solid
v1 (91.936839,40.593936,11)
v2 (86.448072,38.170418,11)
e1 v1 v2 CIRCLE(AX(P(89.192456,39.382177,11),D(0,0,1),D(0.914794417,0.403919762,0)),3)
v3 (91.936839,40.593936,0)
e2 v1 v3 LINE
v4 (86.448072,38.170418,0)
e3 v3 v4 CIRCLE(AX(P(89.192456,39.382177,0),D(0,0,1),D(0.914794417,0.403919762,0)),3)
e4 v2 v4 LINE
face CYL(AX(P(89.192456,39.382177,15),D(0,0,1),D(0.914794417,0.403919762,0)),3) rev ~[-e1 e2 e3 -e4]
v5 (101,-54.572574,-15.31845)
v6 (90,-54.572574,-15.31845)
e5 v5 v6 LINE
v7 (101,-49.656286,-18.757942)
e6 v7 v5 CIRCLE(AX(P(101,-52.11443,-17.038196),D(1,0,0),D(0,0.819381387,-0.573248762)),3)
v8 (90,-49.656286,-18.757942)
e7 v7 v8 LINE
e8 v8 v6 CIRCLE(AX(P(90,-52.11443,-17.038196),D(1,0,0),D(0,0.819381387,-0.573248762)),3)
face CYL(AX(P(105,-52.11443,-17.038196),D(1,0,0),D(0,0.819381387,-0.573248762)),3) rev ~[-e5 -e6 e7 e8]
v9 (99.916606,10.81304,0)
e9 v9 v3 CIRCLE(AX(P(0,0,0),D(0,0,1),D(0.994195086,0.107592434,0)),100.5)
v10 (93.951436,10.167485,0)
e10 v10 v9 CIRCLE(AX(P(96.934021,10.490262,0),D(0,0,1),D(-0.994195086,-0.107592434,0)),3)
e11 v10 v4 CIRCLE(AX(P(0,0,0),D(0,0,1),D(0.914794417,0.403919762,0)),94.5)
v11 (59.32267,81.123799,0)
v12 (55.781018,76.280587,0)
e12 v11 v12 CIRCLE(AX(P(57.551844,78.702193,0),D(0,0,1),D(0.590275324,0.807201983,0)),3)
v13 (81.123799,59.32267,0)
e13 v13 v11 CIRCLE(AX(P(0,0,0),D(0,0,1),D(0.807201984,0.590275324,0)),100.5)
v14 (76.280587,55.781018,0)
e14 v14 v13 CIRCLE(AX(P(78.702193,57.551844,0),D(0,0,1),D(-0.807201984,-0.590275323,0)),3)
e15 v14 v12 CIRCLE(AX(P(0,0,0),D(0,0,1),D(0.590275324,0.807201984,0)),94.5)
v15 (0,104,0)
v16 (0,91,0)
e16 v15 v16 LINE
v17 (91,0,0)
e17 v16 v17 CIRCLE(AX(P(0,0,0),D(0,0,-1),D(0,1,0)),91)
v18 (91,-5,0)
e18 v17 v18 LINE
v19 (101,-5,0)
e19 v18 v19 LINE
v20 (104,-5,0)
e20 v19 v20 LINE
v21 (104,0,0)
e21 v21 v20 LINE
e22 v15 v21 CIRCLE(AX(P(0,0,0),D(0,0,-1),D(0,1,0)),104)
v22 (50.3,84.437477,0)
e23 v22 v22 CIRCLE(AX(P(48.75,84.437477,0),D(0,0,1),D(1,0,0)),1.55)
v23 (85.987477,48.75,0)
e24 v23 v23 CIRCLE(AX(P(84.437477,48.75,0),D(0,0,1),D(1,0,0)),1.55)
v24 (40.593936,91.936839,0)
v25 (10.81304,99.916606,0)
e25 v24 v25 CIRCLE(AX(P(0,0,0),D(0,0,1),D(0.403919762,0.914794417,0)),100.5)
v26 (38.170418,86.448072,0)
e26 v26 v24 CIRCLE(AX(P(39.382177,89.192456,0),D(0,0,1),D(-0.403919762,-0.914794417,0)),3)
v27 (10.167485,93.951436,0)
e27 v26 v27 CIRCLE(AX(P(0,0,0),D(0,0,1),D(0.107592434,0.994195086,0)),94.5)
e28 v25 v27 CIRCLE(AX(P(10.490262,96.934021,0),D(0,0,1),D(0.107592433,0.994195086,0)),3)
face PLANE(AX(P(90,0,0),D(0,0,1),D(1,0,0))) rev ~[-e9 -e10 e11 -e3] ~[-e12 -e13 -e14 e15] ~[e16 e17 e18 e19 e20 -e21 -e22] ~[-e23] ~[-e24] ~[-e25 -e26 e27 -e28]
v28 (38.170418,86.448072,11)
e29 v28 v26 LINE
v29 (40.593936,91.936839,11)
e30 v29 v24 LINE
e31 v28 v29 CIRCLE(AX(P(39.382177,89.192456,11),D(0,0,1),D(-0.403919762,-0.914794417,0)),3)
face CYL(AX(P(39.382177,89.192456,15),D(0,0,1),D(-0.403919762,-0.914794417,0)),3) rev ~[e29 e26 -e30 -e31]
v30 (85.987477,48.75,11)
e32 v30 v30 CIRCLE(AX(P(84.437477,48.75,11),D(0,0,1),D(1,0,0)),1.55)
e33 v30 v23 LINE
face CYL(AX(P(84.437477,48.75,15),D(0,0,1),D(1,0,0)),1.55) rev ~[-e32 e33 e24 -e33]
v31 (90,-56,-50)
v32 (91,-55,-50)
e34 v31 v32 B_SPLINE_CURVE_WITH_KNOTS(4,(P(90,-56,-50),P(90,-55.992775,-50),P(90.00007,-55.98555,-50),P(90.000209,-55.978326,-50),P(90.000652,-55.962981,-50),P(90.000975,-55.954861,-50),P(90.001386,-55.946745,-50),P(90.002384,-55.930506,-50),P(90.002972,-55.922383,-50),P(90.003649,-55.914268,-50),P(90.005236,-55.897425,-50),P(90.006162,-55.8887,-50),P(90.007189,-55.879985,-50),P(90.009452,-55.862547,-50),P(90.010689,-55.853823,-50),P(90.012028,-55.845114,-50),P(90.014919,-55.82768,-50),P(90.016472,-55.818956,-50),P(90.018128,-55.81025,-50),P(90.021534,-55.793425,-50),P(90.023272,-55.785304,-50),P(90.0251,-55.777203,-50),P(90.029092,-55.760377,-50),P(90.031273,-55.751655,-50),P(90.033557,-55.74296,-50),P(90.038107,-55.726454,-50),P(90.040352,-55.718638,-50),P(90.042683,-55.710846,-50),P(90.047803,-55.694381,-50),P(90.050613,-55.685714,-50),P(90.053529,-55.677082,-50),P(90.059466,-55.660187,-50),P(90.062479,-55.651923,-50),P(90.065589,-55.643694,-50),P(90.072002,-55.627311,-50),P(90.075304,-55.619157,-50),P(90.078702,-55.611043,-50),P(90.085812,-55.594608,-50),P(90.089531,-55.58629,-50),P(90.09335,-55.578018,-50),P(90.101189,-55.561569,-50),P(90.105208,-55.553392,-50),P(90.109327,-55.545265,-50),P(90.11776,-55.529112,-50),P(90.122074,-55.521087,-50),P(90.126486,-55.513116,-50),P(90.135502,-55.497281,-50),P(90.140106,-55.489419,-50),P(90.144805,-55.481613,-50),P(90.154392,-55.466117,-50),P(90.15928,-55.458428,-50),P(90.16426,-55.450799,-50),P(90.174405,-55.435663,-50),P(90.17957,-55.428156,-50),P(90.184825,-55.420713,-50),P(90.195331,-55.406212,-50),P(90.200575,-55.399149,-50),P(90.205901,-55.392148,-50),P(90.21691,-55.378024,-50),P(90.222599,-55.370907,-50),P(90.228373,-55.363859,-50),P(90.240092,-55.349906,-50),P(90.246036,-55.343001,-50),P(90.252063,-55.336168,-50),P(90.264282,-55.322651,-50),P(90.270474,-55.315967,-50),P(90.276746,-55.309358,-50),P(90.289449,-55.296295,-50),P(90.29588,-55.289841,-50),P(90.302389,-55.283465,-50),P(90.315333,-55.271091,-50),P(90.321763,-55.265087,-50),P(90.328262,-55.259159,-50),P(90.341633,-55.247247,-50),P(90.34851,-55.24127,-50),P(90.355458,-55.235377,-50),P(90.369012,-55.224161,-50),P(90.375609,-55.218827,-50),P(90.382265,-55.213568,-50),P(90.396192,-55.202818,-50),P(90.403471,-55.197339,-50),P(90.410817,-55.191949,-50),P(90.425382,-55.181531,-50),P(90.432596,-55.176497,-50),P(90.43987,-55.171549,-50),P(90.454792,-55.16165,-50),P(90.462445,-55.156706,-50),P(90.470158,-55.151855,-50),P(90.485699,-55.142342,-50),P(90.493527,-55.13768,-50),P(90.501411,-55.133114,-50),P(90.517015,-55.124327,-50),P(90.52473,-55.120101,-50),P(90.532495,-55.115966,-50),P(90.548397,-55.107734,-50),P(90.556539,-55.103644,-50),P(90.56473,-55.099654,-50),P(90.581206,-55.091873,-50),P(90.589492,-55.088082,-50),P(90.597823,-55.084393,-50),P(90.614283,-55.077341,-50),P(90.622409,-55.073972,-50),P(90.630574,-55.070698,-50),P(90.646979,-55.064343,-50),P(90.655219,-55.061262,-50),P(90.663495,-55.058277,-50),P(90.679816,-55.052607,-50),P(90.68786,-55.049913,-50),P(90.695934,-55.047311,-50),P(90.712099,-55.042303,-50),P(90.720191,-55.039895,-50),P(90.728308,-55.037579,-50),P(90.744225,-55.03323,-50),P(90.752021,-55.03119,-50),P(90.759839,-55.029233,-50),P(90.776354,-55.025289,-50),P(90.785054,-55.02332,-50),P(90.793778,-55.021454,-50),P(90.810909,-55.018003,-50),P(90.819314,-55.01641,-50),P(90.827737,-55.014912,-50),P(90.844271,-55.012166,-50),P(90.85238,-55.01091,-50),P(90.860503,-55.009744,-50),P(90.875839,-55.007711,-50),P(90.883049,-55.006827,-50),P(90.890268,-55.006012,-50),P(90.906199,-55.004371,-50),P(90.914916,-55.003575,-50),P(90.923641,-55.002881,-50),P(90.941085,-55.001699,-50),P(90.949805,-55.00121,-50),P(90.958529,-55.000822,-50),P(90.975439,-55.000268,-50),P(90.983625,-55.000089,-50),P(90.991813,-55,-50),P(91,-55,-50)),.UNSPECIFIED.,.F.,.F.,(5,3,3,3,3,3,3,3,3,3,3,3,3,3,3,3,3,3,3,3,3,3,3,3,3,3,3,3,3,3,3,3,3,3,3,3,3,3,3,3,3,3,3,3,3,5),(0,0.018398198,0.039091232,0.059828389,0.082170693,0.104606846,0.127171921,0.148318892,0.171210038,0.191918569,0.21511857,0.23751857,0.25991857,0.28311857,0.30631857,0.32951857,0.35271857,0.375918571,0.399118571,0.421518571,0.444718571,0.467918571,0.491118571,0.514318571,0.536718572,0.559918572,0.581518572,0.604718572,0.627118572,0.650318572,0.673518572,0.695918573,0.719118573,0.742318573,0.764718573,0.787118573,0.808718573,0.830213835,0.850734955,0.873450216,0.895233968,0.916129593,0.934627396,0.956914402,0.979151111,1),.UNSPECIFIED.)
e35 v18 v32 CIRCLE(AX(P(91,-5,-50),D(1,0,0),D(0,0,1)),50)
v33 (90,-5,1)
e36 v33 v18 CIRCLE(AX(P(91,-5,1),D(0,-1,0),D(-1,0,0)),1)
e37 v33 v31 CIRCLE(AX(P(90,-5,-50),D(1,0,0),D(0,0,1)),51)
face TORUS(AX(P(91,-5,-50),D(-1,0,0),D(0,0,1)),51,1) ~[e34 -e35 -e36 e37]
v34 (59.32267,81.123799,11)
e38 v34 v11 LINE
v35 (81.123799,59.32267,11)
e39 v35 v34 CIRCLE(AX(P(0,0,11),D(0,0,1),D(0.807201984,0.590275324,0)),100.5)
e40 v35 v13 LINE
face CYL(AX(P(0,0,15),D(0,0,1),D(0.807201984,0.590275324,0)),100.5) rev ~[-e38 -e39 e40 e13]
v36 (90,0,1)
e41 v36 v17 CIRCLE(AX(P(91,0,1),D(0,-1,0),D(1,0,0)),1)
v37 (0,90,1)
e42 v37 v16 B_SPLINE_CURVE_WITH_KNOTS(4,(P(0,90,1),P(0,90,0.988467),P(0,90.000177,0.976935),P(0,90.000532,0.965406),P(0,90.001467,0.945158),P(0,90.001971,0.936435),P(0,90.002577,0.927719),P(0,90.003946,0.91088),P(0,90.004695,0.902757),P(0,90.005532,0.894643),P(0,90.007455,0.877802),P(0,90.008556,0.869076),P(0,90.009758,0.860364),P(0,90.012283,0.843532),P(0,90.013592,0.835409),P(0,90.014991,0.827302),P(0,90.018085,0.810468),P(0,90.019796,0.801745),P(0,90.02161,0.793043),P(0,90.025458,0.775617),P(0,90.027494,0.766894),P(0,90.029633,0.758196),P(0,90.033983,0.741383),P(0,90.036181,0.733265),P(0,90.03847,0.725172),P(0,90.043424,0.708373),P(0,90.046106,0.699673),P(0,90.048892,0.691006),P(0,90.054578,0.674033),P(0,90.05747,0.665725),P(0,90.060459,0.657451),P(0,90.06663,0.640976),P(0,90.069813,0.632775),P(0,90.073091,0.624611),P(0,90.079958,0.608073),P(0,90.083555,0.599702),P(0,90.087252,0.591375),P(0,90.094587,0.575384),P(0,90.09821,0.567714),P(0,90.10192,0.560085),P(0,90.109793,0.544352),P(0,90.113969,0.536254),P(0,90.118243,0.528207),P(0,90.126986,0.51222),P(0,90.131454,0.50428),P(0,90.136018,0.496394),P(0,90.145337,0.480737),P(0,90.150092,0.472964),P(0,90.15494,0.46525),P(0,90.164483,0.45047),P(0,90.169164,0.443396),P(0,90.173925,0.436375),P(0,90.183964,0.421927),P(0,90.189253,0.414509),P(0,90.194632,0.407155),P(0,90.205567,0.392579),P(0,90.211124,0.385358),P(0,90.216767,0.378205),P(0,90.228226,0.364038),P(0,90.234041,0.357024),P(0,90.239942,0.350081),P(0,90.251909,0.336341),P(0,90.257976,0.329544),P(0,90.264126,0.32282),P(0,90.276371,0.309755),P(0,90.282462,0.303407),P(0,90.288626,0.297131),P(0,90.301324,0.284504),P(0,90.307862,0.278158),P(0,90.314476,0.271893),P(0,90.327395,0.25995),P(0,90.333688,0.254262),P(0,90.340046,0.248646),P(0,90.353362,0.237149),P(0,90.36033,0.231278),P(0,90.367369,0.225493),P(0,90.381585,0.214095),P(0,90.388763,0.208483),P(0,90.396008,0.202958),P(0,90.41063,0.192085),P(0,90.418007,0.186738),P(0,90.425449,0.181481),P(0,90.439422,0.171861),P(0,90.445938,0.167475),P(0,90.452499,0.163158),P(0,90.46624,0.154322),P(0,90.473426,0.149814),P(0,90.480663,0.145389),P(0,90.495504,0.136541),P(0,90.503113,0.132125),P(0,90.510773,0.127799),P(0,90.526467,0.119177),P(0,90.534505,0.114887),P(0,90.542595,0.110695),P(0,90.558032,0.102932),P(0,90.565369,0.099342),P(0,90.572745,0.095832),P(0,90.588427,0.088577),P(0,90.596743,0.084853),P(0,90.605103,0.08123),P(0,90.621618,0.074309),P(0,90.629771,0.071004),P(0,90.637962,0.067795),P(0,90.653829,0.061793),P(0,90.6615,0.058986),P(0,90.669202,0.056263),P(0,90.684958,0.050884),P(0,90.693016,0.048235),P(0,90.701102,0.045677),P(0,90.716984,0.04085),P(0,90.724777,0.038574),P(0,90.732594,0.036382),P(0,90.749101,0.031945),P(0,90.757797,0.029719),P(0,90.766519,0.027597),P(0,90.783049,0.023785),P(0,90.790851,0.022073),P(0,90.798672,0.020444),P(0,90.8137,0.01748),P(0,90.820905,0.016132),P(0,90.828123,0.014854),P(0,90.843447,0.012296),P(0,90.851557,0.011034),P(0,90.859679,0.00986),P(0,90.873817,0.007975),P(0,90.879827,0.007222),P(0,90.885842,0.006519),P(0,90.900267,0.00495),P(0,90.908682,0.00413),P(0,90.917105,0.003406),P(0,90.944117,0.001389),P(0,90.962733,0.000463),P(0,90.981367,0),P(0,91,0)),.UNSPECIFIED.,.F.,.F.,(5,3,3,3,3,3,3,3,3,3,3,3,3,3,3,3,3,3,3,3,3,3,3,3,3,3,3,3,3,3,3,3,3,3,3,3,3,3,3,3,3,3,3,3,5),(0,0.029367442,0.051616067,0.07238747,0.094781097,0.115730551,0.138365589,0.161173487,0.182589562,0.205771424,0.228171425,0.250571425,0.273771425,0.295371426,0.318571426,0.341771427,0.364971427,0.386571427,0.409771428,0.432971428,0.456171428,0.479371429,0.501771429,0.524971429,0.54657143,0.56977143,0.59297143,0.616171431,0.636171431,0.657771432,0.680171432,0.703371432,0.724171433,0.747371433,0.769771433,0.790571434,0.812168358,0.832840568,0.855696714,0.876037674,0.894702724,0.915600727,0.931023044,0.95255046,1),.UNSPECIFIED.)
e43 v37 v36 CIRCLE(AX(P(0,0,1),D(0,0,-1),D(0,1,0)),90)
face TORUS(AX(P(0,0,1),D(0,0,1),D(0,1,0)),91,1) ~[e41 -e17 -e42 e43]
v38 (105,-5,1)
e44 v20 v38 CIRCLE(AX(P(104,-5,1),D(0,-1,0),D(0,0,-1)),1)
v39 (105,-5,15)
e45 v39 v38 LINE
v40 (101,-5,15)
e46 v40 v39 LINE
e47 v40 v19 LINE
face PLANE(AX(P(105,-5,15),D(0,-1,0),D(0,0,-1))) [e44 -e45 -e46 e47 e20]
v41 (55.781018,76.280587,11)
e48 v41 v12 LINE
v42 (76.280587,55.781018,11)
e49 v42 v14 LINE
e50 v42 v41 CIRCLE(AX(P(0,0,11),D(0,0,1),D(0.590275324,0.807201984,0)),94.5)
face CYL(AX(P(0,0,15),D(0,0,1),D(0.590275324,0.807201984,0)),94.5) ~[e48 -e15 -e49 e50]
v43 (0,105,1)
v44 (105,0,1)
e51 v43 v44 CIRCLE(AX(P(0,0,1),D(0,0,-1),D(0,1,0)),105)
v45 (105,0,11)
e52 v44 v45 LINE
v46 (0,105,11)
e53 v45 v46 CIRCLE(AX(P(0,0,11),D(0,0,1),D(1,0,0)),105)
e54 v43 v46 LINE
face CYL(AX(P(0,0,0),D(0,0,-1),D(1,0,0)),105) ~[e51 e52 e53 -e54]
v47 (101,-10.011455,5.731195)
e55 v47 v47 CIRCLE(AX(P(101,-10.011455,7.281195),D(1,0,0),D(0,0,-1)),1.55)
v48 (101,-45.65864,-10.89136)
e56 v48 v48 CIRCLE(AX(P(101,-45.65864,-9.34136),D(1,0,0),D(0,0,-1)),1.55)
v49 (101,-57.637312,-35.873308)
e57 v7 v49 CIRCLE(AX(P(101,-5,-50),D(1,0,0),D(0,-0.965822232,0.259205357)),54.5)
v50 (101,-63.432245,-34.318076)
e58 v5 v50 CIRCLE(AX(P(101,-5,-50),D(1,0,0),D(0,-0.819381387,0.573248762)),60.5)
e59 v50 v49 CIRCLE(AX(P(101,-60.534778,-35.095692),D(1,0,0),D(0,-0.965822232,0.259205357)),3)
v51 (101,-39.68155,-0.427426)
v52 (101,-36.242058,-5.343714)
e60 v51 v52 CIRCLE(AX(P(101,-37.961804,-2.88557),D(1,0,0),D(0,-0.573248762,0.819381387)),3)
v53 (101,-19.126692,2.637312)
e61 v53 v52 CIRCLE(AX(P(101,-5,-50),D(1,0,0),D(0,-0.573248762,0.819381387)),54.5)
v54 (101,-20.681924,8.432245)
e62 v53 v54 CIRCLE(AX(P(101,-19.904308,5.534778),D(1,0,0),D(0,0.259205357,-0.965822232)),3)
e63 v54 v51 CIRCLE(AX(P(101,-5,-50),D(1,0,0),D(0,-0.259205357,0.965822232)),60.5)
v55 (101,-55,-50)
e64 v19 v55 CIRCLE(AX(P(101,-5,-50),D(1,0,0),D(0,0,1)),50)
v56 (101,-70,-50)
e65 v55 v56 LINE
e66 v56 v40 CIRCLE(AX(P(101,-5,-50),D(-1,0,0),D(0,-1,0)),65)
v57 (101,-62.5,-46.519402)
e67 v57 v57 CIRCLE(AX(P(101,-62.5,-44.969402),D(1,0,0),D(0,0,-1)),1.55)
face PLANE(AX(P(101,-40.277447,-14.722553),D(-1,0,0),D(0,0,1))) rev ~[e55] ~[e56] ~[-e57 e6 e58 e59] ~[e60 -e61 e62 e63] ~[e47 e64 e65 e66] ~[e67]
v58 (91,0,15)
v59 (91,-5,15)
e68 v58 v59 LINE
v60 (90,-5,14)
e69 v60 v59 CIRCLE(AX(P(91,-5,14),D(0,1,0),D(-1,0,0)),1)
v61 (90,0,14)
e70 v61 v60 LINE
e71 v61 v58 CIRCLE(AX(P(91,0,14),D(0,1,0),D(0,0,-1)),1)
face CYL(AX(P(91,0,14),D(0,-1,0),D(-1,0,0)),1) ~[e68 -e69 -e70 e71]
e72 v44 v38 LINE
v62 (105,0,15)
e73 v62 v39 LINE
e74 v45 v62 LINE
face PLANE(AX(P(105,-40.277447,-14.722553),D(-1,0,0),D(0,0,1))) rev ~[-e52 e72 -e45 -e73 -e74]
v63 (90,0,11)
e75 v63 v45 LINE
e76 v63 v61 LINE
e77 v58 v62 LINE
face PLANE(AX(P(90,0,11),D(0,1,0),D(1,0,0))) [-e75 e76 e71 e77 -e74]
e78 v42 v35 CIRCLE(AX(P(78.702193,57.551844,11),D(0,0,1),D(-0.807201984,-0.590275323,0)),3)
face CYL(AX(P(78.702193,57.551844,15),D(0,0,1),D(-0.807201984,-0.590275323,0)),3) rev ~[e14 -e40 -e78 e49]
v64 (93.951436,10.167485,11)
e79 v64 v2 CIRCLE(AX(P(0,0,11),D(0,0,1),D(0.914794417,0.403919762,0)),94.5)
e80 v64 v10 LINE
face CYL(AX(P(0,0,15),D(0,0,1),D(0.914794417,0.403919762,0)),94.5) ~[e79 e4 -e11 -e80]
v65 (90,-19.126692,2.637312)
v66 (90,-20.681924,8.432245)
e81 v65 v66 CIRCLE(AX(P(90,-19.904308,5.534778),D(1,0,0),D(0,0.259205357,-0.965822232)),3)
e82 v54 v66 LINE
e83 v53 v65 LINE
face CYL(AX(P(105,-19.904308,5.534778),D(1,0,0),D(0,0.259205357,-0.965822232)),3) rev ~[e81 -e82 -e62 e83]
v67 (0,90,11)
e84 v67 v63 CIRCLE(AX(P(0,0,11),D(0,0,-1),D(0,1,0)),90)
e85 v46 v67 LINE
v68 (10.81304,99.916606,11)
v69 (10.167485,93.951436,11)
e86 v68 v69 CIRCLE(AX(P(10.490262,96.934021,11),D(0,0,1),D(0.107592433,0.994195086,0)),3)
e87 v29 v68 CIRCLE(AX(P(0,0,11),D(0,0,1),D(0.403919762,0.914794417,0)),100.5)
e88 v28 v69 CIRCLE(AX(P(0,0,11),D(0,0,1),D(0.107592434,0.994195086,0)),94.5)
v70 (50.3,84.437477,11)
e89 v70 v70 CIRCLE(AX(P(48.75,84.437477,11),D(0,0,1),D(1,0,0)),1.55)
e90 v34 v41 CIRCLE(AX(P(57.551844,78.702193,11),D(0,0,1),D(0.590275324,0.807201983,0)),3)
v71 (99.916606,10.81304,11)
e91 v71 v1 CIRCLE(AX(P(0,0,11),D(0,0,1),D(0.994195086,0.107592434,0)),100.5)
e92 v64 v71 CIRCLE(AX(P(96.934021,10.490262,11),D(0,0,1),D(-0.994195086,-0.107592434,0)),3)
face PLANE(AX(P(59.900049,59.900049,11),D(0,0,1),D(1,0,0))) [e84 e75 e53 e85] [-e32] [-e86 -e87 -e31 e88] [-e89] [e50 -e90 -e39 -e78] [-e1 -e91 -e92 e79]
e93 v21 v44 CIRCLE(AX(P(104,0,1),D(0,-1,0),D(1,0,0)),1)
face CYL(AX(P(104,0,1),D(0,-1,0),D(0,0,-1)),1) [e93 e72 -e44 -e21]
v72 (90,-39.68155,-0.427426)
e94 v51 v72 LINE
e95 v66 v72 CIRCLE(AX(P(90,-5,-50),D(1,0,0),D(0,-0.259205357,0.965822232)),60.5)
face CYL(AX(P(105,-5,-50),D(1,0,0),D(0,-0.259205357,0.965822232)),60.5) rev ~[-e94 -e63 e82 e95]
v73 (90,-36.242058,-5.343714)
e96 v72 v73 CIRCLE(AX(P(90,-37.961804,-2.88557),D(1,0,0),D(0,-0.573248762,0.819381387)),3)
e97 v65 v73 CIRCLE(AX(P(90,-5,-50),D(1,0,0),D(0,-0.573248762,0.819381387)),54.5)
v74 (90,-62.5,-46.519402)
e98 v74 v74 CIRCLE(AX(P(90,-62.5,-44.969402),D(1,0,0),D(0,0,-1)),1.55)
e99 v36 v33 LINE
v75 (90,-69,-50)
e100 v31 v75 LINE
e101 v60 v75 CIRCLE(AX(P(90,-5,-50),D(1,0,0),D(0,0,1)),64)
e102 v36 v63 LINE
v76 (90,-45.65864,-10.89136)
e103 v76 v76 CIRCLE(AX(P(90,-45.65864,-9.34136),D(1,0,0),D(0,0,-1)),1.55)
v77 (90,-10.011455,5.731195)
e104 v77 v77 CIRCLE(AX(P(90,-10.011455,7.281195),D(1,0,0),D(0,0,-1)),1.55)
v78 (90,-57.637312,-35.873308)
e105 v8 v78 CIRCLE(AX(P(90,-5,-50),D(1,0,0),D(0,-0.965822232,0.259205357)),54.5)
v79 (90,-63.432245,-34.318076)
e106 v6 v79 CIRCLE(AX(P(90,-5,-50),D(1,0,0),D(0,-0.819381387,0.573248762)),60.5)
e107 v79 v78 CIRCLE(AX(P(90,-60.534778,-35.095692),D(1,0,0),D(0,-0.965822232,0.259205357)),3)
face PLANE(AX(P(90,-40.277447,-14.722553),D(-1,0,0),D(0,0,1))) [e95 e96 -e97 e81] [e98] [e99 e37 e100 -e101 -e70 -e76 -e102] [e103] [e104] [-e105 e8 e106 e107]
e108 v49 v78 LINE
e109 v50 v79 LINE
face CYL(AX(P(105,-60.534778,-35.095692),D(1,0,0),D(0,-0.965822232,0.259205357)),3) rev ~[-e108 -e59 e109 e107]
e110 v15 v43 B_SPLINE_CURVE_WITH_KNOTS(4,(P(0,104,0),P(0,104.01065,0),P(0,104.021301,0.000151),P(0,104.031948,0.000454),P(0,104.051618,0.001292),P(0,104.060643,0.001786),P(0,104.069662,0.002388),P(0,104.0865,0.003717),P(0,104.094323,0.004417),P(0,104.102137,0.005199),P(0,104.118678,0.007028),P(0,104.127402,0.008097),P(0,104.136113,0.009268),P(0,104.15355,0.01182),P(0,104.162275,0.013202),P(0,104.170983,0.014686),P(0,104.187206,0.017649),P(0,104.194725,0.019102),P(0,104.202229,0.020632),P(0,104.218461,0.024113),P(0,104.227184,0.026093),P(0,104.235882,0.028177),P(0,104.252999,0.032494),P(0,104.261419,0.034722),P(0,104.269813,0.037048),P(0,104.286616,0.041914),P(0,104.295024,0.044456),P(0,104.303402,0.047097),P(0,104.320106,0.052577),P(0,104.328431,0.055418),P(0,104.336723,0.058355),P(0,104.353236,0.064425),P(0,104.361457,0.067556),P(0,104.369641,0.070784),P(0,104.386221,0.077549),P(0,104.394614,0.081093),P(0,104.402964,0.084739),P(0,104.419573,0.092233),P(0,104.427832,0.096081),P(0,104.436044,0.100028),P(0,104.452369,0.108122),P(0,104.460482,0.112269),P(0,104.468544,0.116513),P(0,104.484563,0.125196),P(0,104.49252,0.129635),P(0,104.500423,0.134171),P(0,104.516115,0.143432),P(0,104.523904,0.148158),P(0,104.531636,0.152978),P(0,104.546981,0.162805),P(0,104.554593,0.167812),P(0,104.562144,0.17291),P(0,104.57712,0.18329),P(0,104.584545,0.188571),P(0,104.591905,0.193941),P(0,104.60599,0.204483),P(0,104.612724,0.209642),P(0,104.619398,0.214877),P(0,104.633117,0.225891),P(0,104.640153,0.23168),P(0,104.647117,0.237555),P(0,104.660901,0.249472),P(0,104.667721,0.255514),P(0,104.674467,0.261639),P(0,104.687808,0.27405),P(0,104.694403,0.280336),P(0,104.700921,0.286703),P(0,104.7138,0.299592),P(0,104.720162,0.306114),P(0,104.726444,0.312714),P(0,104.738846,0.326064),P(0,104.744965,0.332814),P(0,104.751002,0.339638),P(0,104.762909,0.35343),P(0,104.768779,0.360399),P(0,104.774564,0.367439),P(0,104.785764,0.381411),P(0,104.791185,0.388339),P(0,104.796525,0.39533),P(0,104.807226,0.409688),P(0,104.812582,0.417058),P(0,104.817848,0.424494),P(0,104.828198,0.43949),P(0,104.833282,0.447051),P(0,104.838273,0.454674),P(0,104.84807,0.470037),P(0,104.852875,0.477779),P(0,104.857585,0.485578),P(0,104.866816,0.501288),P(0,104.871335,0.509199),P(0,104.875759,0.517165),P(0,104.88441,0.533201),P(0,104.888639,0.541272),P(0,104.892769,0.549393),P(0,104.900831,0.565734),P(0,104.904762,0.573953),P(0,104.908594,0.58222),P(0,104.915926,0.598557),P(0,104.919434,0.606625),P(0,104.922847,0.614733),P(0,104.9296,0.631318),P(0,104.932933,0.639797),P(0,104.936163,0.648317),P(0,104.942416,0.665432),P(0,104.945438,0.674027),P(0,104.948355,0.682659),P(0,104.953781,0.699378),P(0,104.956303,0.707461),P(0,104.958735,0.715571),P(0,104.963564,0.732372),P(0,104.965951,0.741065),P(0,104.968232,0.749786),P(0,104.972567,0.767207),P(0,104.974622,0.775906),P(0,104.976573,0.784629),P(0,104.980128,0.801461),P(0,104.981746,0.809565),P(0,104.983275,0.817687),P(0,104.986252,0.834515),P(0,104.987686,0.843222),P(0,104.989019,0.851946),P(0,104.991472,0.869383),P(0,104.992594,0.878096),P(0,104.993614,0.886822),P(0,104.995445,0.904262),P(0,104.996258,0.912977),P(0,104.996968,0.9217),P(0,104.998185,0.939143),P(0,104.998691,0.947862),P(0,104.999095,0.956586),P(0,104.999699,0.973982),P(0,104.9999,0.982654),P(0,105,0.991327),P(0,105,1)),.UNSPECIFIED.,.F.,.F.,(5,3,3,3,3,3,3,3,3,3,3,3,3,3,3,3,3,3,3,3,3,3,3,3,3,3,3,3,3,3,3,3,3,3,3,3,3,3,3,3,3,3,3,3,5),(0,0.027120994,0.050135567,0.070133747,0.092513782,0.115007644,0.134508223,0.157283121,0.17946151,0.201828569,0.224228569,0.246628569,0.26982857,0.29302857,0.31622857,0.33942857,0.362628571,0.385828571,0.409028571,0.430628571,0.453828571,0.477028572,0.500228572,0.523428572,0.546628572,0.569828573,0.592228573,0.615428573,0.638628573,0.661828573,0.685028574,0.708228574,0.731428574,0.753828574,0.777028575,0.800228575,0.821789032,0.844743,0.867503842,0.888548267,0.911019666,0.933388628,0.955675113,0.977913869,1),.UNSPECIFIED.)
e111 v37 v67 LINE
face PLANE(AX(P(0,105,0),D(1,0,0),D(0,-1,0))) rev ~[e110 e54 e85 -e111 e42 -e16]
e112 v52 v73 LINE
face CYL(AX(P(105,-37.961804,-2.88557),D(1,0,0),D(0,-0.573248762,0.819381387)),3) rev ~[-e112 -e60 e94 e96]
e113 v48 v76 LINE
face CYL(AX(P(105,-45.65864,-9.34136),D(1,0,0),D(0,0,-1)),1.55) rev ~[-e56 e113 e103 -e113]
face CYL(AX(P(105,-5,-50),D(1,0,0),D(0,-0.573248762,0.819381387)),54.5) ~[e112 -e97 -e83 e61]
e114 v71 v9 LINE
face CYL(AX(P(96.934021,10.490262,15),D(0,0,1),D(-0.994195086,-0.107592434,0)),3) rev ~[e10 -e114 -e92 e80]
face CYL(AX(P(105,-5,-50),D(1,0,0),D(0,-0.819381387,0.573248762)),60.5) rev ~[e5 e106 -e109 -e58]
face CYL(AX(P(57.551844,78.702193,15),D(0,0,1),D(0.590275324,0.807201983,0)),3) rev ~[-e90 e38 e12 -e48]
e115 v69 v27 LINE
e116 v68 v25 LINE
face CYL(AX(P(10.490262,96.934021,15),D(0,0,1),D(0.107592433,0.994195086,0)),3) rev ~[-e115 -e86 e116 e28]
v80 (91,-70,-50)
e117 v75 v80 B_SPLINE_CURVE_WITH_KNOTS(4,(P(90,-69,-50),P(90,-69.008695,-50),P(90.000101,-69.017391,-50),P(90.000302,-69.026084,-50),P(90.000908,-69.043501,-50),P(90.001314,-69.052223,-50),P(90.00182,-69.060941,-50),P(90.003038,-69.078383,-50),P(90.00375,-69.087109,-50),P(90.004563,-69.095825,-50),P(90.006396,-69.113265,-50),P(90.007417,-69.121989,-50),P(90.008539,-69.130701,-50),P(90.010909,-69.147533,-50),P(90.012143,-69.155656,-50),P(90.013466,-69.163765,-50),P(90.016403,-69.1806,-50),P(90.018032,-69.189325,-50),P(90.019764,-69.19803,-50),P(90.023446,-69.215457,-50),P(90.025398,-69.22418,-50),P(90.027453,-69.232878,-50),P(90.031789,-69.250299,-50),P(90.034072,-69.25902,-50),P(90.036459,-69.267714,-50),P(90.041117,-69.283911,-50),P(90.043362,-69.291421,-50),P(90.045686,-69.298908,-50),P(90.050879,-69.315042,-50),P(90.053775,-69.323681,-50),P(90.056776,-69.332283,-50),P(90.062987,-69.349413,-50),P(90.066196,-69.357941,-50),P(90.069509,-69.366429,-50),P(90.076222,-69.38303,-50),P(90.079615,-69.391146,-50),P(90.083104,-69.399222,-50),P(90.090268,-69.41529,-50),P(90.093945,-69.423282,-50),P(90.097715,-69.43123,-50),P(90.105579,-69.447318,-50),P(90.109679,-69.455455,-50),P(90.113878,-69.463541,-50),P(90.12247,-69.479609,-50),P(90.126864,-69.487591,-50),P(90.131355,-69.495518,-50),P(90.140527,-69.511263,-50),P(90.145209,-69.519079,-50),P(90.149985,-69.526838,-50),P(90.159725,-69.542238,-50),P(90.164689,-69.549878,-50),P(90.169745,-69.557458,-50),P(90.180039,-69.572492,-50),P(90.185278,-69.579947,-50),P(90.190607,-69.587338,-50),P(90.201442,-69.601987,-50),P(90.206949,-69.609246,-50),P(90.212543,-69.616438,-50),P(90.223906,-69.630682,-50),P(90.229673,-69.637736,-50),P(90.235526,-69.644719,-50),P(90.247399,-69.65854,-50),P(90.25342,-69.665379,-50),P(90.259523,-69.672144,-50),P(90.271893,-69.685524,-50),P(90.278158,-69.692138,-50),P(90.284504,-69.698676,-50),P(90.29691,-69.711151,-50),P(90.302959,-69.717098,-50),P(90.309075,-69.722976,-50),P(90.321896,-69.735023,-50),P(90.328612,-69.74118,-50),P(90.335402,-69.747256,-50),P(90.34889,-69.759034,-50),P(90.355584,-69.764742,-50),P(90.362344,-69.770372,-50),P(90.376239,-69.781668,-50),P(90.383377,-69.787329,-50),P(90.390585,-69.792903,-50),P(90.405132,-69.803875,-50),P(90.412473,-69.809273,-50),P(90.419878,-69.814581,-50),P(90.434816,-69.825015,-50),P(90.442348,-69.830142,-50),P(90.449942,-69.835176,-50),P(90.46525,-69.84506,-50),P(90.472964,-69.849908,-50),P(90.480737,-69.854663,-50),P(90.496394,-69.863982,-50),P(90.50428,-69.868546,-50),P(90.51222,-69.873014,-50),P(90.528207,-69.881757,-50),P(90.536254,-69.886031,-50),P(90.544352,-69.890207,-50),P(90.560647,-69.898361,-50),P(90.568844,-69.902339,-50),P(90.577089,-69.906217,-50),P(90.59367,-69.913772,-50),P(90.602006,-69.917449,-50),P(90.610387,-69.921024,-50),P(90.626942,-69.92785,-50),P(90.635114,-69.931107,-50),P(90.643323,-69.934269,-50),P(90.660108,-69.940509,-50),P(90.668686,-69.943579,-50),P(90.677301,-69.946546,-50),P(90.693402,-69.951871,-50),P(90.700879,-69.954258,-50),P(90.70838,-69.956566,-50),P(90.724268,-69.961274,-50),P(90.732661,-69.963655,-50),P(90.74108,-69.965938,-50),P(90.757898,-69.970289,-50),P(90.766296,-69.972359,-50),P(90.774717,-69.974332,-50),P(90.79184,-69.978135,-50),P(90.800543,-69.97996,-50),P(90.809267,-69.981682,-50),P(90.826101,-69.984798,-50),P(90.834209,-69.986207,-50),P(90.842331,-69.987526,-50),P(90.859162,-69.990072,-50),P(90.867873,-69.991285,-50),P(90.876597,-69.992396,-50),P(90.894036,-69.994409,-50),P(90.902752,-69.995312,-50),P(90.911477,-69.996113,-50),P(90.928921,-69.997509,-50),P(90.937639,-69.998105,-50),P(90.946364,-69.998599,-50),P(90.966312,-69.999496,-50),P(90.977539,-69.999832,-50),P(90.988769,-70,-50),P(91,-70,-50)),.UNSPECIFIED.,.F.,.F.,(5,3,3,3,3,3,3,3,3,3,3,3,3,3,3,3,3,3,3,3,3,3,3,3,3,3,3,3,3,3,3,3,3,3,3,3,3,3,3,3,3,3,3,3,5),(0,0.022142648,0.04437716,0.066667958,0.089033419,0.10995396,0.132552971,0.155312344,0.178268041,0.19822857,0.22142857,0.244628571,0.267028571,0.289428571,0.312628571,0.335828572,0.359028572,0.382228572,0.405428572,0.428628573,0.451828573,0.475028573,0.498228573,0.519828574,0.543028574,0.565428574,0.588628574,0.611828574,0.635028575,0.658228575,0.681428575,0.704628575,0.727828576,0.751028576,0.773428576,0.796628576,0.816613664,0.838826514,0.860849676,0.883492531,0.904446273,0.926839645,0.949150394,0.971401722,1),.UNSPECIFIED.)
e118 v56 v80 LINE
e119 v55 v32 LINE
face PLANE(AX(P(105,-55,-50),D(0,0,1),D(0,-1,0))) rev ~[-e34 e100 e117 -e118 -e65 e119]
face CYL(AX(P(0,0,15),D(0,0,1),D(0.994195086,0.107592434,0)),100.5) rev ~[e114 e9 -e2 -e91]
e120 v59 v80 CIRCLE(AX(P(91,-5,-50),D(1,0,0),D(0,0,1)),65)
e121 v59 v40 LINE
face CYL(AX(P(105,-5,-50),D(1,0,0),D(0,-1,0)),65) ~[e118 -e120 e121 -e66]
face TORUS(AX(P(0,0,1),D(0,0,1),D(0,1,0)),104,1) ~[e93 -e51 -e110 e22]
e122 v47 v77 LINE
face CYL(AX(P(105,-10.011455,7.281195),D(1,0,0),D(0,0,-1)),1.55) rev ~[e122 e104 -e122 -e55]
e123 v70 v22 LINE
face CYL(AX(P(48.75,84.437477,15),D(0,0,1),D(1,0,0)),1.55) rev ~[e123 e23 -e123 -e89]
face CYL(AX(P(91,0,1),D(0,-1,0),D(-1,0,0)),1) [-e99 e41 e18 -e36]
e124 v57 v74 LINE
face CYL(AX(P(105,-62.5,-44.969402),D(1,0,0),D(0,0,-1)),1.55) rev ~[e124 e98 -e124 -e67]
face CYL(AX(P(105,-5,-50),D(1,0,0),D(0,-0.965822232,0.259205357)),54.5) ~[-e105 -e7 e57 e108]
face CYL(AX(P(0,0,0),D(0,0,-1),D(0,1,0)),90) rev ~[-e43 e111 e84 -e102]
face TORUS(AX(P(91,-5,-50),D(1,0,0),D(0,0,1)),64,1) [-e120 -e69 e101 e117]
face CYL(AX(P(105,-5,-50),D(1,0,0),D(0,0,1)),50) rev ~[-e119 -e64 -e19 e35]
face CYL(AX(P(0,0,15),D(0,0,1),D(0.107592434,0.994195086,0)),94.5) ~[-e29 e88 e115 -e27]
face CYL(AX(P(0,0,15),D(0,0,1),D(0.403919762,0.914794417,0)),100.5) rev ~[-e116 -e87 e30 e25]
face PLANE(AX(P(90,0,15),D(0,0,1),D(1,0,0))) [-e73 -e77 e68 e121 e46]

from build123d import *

# Parameters (mm, degrees)
EXTRUDE_1_DEPTH     = 15
SKETCH_2_W          = 15
SKETCH_2_H          = 15
EXTRUDE_2_DEPTH     = 5
EXTRUDE_3_DEPTH     = 15
SKETCH_4_R          = 1.55
CUT_EXTRUDE_1_DEPTH = 163.095650774
SKETCH_5_R          = 1.55
CUT_EXTRUDE_2_DEPTH = 157.68439616
CUT_EXTRUDE_3_DEPTH = 4
CUT_EXTRUDE_START   = -4
CUT_EXTRUDE_4_DEPTH = 4
FILLET_1_R          = 1


with BuildPart() as part:
    # 草图1 → 凸台-拉伸1 (new body)
    with BuildSketch(Plane.XY):
        with BuildLine():
            Line((90, 0), (105, 0))
            ThreePointArc((105, 0), (74.246212025, 74.246212025), (0, 105))
            Line((0, 105), (0, 90))
            ThreePointArc((0, 90), (63.639610307, 63.639610307), (90, 0))
        make_face()
    extrude(amount=EXTRUDE_1_DEPTH)

    # 草图2 → 凸台-拉伸2 (add)
    with BuildSketch(Plane.XZ):
        with Locations((97.5, 7.5)):
            Rectangle(SKETCH_2_W, SKETCH_2_H)
    extrude(amount=EXTRUDE_2_DEPTH)

    # 草图3 → 凸台-拉伸3 (add)
    with BuildSketch(Plane(origin=(105, 0, 0), x_dir=(0, 0, -1), z_dir=(1, 0, 0))):
        with BuildLine():
            Line((50, -55), (50, -70))
            ThreePointArc((50, -70), (4.038059223, -50.961940777), (-15, -5))
            Line((-15, -5), (0, -5))
            ThreePointArc((0, -5), (14.644660941, -40.355339059), (50, -55))
        make_face()
    extrude(amount=-EXTRUDE_3_DEPTH)

    # 草图4 → 切除-拉伸1 (cut, through all)
    with BuildSketch(Plane.XY.offset(15)):
        with Locations((84.437476869, 48.75)):
            Circle(SKETCH_4_R)
        with Locations((48.75, 84.437476869)):
            Circle(SKETCH_4_R)
        with BuildLine():
            ThreePointArc((40.593936087, 91.936838933), (26.011314033, 97.075545542), (10.813039575, 99.916606103))
            ThreePointArc((10.813039575, 99.916606103), (7.507677018, 97.256798147), (10.167484974, 93.951435589))
            ThreePointArc((10.167484974, 93.951435589), (24.458399762, 91.279990584), (38.170417515, 86.448072429))
            ThreePointArc((38.170417515, 86.448072429), (42.126560053, 87.980696395), (40.593936087, 91.936838933))
        make_face()
        with BuildLine():
            ThreePointArc((81.123799357, 59.322670016), (71.064231509, 71.064231509), (59.322670016, 81.123799357))
            ThreePointArc((59.322670016, 81.123799357), (55.130238094, 80.473019377), (55.781018075, 76.280587456))
            ThreePointArc((55.781018075, 76.280587456), (66.821590822, 66.821590822), (76.280587456, 55.781018075))
            ThreePointArc((76.280587456, 55.781018075), (80.473019377, 55.130238094), (81.123799357, 59.322670016))
        make_face()
        with BuildLine():
            ThreePointArc((99.916606103, 10.813039575), (97.075545542, 26.011314033), (91.936838933, 40.593936087))
            ThreePointArc((91.936838933, 40.593936087), (87.980696395, 42.126560053), (86.448072429, 38.170417515))
            ThreePointArc((86.448072429, 38.170417515), (91.279990584, 24.458399762), (93.951435589, 10.167484974))
            ThreePointArc((93.951435589, 10.167484974), (97.256798147, 7.507677018), (99.916606103, 10.813039575))
        make_face()
    extrude(amount=-CUT_EXTRUDE_1_DEPTH, mode=Mode.SUBTRACT)

    # 草图5 → 切除-拉伸2 (cut, through all)
    with BuildSketch(Plane(origin=(105, 0, 0), x_dir=(0, 0, -1), z_dir=(1, 0, 0))):
        with Locations((44.969401847, -62.5)):
            Circle(SKETCH_5_R)
        with Locations((9.341360082, -45.658639918)):
            Circle(SKETCH_5_R)
        with Locations((-7.28119514, -10.011455208)):
            Circle(SKETCH_5_R)
        with BuildLine():
            ThreePointArc((-8.432245014, -20.681924073), (-4.831621116, -30.568404835), (0.427426106, -39.681550102))
            ThreePointArc((0.427426106, -39.681550102), (4.605316552, -40.419947976), (5.343714426, -36.24205753))
            ThreePointArc((5.343714426, -36.24205753), (0.606225607, -28.032695265), (-2.637311624, -19.126691933))
            ThreePointArc((-2.637311624, -19.126691933), (-6.312394389, -17.006841308), (-8.432245014, -20.681924073))
        make_face()
        with BuildLine():
            ThreePointArc((15.318449898, -54.572573894), (24.431595165, -59.831621116), (34.318075927, -63.432245014))
            ThreePointArc((34.318075927, -63.432245014), (37.993158692, -61.312394389), (35.873308067, -57.637311624))
            ThreePointArc((35.873308067, -57.637311624), (26.967304735, -54.393774393), (18.75794247, -49.656285574))
            ThreePointArc((18.75794247, -49.656285574), (14.580052024, -50.394683448), (15.318449898, -54.572573894))
        make_face()
    extrude(amount=-CUT_EXTRUDE_2_DEPTH, mode=Mode.SUBTRACT)

    # 草图6 → 切除-拉伸3 (cut)
    with BuildSketch(Plane(origin=(105, 0, 0), x_dir=(0, 0, -1), z_dir=(1, 0, 0))):
        with BuildLine():
            Line((50, -55), (50, -70))
            ThreePointArc((50, -70), (4.038059223, -50.961940777), (-15, -5))
            Line((-15, -5), (0, -5))
            ThreePointArc((0, -5), (14.644660941, -40.355339059), (50, -55))
        make_face()
    extrude(amount=-CUT_EXTRUDE_3_DEPTH, mode=Mode.SUBTRACT)

    # 草图7 → 切除-拉伸4 (cut)
    with BuildSketch(Plane.XY.offset(15).offset(CUT_EXTRUDE_START)):
        with BuildLine():
            Line((0, 105), (0, 90))
            ThreePointArc((0, 90), (63.639610307, 63.639610307), (90, 0))
            Line((90, 0), (105, 0))
            ThreePointArc((105, 0), (74.246212025, 74.246212025), (0, 105))
        make_face()
    extrude(amount=CUT_EXTRUDE_4_DEPTH, mode=Mode.SUBTRACT)

    # 圆角1
    fillet_1_edges = [part.edges().sort_by_distance(p)[0] for p in [
        (90, -2.5, 15),
        (90, -2.5, 0),
        (105, -2.5, 0),
        (90, -40.355339059, -14.644660941),
        (90, -50.961940777, -4.038059223),
        (63.639610307, 63.639610307, 0),
        (74.246212025, 74.246212025, 0),
    ]]
    fillet(fillet_1_edges, radius=FILLET_1_R)


solid = part.part
